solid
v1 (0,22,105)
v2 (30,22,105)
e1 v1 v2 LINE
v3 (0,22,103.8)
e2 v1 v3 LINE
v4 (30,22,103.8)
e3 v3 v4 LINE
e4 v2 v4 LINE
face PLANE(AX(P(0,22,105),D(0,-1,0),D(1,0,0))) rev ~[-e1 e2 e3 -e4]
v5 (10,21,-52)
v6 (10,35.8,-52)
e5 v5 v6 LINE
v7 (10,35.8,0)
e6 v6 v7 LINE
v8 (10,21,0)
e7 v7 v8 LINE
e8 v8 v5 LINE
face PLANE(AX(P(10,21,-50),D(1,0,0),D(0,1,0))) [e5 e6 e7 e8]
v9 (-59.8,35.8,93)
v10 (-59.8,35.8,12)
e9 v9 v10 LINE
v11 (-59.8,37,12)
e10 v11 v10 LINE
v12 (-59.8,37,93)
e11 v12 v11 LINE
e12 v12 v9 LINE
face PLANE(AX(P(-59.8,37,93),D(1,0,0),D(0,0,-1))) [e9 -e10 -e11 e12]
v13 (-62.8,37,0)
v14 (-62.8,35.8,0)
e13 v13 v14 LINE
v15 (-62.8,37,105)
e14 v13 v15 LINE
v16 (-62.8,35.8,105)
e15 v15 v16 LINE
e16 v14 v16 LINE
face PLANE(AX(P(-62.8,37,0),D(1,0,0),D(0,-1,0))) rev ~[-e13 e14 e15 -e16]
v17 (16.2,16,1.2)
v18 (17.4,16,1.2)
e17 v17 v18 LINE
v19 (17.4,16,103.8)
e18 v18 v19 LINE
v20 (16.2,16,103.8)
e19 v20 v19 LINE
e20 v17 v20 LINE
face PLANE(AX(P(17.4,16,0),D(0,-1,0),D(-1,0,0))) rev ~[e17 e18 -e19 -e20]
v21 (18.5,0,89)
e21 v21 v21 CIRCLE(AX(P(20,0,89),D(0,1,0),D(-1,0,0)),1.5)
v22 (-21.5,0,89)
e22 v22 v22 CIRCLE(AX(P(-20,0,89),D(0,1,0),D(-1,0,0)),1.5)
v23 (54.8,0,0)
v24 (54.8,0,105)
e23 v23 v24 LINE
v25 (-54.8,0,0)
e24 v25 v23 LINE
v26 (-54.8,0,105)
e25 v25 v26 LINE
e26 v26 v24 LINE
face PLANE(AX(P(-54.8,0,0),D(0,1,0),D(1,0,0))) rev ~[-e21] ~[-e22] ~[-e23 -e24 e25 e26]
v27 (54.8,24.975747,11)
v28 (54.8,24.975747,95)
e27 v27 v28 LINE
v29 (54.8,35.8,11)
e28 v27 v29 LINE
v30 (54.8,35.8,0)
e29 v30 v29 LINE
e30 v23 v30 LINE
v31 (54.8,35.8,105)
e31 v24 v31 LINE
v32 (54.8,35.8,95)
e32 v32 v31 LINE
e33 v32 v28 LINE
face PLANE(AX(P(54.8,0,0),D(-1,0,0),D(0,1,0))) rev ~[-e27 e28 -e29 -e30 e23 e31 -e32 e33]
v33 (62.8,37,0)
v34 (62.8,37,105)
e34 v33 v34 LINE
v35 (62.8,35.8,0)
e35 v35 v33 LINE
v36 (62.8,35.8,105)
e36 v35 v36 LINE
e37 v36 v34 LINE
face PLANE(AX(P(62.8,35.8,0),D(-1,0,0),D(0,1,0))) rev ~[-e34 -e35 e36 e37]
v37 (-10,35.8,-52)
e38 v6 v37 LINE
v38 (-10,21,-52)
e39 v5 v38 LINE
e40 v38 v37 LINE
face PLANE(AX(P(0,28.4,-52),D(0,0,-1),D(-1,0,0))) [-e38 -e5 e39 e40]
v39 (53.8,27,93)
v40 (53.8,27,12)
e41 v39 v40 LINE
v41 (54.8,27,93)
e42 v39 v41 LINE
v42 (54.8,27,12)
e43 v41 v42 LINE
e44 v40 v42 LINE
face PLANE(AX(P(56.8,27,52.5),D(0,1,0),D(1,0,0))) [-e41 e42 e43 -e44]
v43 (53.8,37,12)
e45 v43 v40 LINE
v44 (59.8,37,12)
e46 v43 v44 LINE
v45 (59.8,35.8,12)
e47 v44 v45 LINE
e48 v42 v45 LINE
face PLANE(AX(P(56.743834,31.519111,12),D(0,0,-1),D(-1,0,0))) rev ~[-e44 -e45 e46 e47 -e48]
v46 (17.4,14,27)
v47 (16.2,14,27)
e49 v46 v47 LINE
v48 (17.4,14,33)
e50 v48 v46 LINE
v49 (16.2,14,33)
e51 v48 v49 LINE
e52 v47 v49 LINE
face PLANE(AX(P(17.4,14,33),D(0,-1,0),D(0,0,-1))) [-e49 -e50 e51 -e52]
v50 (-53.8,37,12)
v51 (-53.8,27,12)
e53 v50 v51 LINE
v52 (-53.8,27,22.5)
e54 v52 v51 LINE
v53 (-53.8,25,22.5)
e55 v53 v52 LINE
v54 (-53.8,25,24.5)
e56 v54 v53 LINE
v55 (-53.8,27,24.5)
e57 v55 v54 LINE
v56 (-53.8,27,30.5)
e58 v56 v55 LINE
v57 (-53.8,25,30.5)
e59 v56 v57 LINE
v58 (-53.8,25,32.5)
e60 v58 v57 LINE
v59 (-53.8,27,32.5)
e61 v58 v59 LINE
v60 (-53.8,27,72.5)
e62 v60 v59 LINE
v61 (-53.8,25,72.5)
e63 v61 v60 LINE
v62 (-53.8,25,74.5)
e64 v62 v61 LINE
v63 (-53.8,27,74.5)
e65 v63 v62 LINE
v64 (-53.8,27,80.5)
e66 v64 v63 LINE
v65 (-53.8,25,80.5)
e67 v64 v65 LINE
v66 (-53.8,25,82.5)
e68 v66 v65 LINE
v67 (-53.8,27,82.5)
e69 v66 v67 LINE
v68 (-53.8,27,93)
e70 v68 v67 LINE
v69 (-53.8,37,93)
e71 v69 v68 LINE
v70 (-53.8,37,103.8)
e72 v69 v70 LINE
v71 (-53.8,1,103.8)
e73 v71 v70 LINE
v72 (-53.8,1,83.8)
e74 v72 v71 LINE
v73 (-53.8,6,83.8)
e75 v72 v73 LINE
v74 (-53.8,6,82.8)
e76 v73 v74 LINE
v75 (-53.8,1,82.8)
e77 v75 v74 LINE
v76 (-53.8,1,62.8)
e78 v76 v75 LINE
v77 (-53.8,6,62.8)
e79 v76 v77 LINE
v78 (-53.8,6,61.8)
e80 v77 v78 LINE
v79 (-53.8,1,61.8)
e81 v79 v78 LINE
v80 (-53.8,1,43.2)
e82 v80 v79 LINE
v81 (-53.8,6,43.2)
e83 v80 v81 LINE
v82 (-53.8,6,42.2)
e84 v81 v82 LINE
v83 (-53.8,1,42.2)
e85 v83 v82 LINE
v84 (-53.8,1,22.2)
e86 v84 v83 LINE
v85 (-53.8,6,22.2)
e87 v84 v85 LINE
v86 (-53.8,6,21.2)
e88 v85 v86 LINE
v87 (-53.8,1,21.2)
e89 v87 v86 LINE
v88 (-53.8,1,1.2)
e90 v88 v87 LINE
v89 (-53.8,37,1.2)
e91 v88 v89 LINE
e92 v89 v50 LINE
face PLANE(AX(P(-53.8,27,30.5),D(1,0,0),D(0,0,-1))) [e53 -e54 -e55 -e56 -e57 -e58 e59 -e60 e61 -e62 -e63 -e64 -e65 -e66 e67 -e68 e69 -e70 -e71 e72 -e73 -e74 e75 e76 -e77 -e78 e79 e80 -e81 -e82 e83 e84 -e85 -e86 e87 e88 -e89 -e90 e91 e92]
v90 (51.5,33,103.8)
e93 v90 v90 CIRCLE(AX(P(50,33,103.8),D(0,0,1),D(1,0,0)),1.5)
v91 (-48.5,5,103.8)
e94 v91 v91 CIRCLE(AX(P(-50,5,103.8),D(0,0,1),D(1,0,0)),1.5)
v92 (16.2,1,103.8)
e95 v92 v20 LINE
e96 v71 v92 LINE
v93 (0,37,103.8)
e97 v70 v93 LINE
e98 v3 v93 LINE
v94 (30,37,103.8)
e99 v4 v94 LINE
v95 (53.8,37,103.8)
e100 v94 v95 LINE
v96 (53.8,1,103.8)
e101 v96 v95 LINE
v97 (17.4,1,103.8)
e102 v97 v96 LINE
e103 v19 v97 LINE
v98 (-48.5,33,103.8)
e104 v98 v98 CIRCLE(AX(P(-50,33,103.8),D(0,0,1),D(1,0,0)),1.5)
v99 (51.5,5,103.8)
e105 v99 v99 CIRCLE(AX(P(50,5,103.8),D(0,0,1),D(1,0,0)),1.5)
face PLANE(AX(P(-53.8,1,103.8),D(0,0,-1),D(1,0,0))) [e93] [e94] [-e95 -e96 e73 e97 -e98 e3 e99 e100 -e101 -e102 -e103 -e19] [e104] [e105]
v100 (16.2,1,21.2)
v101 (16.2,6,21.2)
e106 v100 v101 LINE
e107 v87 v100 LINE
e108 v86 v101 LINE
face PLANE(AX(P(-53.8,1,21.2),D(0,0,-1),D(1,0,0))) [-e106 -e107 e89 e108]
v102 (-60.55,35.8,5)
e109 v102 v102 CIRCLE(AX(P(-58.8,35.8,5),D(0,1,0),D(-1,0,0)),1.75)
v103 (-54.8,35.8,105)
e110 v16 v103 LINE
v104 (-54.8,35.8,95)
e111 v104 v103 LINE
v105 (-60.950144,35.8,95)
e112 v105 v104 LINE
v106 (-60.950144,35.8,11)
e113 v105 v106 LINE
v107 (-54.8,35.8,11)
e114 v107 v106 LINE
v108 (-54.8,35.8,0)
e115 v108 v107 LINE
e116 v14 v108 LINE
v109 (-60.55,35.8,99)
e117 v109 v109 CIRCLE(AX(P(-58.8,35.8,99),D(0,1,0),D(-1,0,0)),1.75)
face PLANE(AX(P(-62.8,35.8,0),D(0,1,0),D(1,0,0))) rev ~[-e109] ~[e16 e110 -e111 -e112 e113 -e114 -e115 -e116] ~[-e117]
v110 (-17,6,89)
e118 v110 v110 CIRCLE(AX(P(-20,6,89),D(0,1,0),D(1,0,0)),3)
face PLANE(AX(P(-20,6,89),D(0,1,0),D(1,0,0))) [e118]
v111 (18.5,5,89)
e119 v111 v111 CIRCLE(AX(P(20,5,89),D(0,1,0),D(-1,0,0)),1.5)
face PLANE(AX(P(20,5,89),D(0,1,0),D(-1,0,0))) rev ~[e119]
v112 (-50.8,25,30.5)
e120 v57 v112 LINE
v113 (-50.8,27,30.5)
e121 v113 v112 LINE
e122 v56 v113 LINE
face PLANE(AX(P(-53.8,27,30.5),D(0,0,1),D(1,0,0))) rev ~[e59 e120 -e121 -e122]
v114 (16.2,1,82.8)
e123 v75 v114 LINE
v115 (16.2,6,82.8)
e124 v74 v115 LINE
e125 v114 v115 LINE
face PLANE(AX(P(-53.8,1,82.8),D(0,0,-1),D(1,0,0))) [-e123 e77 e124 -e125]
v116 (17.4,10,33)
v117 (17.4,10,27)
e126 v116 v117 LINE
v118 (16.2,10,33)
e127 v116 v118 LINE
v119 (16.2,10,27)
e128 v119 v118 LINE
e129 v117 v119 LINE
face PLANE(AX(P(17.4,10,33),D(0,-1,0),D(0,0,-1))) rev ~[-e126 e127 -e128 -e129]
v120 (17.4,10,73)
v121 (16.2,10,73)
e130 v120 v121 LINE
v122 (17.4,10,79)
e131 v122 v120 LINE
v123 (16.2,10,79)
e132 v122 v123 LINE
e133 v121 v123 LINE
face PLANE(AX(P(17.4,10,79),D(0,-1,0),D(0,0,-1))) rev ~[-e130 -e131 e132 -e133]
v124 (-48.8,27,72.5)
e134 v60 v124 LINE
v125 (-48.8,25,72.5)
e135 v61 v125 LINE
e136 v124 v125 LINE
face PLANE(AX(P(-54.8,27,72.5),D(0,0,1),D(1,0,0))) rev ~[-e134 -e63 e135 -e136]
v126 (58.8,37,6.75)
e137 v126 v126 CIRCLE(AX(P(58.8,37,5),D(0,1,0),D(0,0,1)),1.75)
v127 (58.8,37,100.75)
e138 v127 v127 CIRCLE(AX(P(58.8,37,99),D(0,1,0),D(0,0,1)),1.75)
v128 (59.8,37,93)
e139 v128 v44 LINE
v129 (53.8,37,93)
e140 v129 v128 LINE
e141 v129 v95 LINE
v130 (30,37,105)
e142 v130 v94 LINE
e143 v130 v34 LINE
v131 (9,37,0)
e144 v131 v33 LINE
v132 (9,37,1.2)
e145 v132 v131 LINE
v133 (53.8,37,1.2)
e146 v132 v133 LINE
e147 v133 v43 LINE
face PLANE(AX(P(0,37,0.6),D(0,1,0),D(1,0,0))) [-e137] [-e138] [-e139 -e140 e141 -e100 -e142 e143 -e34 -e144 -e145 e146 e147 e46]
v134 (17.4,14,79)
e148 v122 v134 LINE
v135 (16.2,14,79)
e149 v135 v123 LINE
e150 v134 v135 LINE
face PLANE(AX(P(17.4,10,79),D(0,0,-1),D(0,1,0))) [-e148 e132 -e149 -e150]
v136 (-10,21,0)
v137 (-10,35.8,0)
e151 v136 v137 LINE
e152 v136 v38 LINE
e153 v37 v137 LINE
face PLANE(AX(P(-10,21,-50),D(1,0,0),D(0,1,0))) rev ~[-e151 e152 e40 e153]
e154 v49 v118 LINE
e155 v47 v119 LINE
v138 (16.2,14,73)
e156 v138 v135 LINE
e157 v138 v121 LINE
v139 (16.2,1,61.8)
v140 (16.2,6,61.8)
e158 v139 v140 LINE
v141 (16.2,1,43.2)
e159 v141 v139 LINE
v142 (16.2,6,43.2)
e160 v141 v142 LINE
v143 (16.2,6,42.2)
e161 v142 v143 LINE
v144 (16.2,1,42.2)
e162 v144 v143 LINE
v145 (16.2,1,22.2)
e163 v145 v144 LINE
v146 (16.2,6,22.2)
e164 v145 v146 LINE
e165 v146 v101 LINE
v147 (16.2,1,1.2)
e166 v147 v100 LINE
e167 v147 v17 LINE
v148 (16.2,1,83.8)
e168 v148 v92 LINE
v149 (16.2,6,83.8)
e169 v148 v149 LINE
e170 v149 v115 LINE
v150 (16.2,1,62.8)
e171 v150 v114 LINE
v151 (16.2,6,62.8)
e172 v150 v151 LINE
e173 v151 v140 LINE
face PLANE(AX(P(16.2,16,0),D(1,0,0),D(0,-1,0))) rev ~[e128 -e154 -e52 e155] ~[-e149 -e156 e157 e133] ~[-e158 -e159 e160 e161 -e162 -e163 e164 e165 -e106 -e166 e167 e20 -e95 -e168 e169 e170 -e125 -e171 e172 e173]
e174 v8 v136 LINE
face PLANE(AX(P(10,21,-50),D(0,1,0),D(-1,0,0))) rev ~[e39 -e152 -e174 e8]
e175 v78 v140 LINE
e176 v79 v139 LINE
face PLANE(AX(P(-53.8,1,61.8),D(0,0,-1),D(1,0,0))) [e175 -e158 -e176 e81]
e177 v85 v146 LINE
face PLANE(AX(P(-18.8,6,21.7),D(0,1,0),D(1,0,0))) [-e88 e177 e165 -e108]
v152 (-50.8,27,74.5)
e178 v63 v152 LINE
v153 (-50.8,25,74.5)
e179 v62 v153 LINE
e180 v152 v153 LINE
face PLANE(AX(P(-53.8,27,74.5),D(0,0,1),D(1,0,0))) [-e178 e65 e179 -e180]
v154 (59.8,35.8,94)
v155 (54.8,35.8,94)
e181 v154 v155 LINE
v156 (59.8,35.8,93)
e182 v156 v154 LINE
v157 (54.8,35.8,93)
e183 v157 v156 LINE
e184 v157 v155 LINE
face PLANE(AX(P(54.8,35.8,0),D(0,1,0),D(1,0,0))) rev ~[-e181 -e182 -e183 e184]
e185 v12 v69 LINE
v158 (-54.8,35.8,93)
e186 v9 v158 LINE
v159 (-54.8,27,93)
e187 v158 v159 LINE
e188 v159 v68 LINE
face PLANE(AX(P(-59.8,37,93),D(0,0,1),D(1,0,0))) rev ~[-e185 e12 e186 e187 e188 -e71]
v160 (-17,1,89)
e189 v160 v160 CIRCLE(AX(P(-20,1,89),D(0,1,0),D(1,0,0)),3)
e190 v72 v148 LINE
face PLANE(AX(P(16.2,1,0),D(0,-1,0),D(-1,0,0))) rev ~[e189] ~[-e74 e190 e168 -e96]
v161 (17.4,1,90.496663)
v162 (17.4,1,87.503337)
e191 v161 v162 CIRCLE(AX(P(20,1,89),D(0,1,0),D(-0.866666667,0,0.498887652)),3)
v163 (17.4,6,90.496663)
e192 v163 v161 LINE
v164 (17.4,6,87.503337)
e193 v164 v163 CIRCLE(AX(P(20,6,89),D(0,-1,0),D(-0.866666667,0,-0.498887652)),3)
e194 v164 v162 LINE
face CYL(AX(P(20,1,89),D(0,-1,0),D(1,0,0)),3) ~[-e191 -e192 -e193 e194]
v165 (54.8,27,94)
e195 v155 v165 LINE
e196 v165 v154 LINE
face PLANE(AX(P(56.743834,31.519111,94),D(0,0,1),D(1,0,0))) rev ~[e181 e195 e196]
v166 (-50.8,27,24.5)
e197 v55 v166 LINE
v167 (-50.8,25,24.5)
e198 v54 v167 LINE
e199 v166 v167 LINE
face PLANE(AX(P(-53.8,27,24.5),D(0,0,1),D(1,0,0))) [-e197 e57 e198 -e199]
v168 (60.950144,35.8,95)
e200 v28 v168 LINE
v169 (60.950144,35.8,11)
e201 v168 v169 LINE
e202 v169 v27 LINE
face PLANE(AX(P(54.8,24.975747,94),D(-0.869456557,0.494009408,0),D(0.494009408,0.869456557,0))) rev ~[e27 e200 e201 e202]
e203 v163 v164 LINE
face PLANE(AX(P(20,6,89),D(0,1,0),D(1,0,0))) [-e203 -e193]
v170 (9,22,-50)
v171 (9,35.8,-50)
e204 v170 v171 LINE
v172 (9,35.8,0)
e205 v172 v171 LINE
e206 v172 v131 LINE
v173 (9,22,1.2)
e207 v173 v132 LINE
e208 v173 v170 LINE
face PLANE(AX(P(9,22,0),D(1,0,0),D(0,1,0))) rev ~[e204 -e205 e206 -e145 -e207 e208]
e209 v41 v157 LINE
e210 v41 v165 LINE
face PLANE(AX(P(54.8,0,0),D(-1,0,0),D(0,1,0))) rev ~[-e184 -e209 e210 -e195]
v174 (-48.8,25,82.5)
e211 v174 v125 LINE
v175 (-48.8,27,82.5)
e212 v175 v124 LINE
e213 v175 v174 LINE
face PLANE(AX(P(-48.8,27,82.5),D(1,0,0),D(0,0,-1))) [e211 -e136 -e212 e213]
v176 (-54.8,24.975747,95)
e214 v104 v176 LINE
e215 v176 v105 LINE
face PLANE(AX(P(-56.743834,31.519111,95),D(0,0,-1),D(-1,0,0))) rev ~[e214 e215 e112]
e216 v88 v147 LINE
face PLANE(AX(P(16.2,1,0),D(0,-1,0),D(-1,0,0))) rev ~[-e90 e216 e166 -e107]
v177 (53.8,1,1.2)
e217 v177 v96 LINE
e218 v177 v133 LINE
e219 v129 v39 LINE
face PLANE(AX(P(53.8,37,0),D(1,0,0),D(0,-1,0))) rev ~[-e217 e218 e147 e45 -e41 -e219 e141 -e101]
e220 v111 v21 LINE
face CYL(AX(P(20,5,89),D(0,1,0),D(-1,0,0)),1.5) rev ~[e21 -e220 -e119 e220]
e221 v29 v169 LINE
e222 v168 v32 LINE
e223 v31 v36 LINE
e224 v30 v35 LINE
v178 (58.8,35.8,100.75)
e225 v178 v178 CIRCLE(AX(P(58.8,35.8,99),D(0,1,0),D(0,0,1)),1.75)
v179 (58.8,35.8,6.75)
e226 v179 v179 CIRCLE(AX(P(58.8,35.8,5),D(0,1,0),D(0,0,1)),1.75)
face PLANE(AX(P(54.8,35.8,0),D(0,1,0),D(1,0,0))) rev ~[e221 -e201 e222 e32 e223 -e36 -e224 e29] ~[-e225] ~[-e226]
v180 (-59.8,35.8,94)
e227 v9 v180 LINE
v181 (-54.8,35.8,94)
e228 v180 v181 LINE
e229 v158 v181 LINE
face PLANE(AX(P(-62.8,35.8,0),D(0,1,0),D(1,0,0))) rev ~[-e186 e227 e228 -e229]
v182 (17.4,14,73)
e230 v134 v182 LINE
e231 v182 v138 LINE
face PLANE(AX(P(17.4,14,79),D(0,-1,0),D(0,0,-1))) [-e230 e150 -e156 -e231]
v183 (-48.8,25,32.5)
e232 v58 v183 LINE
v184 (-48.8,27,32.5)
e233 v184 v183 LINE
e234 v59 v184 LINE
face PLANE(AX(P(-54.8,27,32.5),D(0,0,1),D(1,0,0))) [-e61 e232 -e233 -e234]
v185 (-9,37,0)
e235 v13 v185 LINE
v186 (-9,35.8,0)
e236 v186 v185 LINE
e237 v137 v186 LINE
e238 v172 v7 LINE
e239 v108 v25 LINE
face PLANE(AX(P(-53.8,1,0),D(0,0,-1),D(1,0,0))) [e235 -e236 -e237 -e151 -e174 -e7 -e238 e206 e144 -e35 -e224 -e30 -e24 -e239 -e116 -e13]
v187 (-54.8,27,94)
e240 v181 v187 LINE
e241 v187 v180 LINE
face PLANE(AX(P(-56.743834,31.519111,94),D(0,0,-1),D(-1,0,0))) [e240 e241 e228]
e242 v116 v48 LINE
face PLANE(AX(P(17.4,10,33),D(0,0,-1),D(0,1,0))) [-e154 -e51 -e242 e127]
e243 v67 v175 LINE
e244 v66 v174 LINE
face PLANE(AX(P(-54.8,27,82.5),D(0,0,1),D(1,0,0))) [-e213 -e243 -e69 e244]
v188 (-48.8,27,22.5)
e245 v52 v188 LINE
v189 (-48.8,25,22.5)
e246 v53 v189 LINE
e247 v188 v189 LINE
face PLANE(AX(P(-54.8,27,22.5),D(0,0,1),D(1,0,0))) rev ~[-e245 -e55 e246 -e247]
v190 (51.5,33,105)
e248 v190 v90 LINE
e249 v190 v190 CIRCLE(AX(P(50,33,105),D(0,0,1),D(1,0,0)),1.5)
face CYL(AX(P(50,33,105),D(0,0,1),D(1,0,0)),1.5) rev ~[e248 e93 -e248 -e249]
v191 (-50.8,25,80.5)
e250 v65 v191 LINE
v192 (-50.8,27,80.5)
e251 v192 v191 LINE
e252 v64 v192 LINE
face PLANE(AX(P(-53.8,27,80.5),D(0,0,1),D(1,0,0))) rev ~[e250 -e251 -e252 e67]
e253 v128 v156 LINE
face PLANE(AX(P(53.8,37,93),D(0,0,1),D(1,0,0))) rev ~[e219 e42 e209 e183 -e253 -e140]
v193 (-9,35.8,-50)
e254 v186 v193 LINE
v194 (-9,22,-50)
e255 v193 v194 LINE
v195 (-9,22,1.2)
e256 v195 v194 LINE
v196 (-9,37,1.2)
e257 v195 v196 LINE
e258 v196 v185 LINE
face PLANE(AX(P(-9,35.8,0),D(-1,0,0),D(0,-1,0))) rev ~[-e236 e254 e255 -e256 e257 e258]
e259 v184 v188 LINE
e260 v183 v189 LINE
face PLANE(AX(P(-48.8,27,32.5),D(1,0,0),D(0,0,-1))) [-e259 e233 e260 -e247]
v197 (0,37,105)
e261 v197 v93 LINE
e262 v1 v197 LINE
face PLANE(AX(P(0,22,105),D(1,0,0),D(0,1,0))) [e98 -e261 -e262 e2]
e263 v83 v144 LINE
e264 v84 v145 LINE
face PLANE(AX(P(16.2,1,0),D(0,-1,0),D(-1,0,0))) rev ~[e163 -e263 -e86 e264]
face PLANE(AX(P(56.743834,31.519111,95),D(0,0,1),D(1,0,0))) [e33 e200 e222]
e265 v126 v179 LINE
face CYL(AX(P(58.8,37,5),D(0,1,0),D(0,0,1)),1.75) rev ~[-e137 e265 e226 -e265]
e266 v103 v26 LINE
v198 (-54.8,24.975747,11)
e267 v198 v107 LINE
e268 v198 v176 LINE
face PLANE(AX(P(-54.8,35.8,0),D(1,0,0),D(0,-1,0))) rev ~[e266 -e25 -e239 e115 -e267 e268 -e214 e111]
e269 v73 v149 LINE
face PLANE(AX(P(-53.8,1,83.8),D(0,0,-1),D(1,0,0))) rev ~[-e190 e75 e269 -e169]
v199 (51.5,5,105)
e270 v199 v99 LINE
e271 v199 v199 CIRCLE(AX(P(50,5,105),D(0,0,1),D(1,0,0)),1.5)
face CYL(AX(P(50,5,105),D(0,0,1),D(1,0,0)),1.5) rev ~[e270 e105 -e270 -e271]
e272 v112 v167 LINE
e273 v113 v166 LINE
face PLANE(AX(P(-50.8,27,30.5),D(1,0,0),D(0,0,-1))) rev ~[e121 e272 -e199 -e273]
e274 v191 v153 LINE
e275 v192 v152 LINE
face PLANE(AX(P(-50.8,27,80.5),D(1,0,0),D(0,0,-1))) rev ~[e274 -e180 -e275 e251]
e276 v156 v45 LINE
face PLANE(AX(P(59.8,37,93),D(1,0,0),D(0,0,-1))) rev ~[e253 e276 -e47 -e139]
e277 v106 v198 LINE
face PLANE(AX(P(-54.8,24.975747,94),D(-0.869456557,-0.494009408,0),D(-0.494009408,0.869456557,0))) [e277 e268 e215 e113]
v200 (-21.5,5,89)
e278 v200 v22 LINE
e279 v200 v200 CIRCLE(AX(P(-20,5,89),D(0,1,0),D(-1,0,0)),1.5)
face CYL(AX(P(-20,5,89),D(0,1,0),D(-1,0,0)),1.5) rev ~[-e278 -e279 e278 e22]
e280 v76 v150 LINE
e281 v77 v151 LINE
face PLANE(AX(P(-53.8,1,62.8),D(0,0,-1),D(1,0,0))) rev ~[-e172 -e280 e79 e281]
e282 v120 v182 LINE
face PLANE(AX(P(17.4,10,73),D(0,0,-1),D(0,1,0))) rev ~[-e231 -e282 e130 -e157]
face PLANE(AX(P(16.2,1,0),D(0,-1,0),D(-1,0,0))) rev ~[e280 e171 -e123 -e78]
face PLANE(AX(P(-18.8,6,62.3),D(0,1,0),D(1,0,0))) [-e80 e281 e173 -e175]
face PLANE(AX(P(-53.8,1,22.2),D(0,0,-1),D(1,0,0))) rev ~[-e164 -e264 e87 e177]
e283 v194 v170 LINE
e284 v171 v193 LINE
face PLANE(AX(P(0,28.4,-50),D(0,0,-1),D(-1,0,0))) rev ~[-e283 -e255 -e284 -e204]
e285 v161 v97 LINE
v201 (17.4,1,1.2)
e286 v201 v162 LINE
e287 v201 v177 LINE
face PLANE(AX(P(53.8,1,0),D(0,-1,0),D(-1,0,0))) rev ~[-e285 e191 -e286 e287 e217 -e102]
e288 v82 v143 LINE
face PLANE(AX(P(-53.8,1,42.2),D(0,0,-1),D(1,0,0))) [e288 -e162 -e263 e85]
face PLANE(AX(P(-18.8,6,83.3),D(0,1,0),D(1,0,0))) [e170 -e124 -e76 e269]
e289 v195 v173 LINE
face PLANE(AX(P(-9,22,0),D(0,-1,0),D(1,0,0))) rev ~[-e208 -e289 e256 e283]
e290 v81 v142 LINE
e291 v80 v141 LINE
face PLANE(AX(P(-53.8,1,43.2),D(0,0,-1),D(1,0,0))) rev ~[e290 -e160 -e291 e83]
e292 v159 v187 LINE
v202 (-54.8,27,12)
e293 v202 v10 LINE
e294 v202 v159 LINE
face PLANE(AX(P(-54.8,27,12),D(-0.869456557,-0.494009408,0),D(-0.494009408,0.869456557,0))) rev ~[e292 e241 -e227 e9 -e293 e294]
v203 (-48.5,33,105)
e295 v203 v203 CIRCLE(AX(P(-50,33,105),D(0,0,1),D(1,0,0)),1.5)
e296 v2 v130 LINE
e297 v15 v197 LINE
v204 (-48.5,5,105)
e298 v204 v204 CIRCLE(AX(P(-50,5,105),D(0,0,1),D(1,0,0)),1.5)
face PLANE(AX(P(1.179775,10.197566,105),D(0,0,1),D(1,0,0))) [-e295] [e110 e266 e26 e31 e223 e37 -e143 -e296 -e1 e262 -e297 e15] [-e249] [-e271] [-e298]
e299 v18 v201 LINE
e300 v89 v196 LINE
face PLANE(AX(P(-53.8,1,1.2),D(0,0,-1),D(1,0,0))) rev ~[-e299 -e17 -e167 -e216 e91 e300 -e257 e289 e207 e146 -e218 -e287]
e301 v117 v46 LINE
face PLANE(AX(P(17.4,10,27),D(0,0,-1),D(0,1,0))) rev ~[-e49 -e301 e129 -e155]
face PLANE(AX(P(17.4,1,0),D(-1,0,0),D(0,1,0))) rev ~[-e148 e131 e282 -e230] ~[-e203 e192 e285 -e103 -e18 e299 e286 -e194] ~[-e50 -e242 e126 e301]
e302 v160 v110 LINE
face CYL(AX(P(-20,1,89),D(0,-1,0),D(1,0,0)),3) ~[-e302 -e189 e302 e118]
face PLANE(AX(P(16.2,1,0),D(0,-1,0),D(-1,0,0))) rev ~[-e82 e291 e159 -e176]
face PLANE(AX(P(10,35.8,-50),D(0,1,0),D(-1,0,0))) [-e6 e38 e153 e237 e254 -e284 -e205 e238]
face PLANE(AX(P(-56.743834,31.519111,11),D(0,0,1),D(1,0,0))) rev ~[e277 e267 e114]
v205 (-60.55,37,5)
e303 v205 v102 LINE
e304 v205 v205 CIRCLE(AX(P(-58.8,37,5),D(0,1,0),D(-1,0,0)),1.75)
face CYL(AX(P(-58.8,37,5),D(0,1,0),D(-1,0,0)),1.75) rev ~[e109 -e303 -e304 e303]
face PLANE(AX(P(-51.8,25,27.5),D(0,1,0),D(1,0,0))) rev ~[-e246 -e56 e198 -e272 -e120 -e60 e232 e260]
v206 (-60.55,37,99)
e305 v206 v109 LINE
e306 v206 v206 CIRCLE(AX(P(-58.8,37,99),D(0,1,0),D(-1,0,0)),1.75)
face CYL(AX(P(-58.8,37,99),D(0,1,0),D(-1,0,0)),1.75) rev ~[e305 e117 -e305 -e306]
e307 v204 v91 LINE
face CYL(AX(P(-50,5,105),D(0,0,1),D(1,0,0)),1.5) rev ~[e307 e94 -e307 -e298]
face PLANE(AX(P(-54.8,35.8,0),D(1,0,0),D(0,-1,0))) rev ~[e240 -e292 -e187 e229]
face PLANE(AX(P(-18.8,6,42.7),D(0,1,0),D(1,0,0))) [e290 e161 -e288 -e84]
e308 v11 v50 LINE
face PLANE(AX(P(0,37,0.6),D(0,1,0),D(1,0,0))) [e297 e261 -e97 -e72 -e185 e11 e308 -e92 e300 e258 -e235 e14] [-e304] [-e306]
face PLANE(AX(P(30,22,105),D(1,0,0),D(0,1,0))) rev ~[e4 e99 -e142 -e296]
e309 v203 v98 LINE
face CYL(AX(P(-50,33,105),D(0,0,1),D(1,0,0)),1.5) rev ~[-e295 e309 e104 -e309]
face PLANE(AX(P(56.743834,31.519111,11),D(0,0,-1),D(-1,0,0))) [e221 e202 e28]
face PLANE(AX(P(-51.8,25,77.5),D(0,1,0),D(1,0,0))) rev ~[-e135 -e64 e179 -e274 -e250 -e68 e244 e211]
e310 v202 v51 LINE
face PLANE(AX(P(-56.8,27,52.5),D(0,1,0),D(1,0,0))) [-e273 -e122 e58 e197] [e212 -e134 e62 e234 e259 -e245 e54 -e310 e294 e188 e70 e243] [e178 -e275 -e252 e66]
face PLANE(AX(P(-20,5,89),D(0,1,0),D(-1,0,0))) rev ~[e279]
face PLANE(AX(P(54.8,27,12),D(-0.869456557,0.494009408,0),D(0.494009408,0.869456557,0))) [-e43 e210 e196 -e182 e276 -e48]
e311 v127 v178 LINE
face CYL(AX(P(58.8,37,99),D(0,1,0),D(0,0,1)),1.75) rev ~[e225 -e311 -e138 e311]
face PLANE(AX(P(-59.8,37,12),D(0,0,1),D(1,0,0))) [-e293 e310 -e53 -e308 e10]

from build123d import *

# Parameters (mm, degrees)
EXTRUDE_1_DEPTH     = 105
SKETCH_3_W          = 107.6
SKETCH_3_H          = 1.2
EXTRUDE_3_DEPTH     = 36
SKETCH_4_R          = 3
SKETCH_4_W          = 70
SKETCH_4_H          = 1
EXTRUDE_4_DEPTH     = 5
CUT_EXTRUDE_1_REACH = 129.213
CUT_EXTRUDE_START   = -1
SKETCH_5_R          = 1.5
SKETCH_6_R          = 1.75
SKETCH_6_W          = 6
SKETCH_6_H          = 81
CUT_EXTRUDE_2_DEPTH = 10
EXTRUDE_8_DEPTH     = 82
EXTRUDE_9_DEPTH     = 1
EXTRUDE_10_DEPTH    = 1
CUT_EXTRUDE_3_REACH = 128.836
SKETCH_11_W         = 18
SKETCH_11_H         = 15
CUT_EXTRUDE_4_REACH = 129.82
SKETCH_12_R         = 1.5
SKETCH_12_W         = 30
SKETCH_12_H         = 15
EXTRUDE_11_DEPTH    = 50
SKETCH_14_W         = 20
SKETCH_14_H         = 14.8
EXTRUDE_12_DEPTH    = 2
SKETCH_15_W         = 6
SKETCH_15_H         = 10
SKETCH_15_W_2       = 3
SKETCH_15_H_2       = 6
EXTRUDE_13_DEPTH    = 2
CUT_EXTRUDE_5_REACH = 139.208
SKETCH_16_W         = 6
SKETCH_16_H         = 4


with BuildPart() as part:
    # 草图1 → 凸台-拉伸1 (new body)
    with BuildSketch(Plane.XY):
        Polygon((-54.8, 0), (54.8, 0), (54.8, 35.8), (62.8, 35.8), (62.8, 37), (53.8, 37), (53.8, 1), (17.4, 1), (17.4, 16), (16.2, 16), (16.2, 1), (-53.8, 1), (-53.8, 37), (-62.8, 37), (-62.8, 35.8), (-54.8, 35.8), align=None)
    extrude(amount=EXTRUDE_1_DEPTH)

    # 草图3 → 凸台-拉伸3 (add)
    with BuildSketch(Plane(origin=(0, 1, 0), x_dir=(1, 0, 0), z_dir=(0, 1, 0))):
        with Locations((0, -0.6)):
            Rectangle(SKETCH_3_W, SKETCH_3_H)
        with Locations((0, -104.4)):
            Rectangle(SKETCH_3_W, SKETCH_3_H)
    extrude(amount=EXTRUDE_3_DEPTH)

    # 草图4 → 凸台-拉伸4 (add)
    with BuildSketch(Plane(origin=(0, 1, 0), x_dir=(1, 0, 0), z_dir=(0, 1, 0))):
        with Locations((20, -89)):
            Circle(SKETCH_4_R)
        with Locations((-20, -89)):
            Circle(SKETCH_4_R)
        with Locations((-18.8, -21.7)):
            Rectangle(SKETCH_4_W, SKETCH_4_H)
        with Locations((-18.8, -42.7)):
            Rectangle(SKETCH_4_W, SKETCH_4_H)
        with Locations((-18.8, -62.3)):
            Rectangle(SKETCH_4_W, SKETCH_4_H)
        with Locations((-18.8, -83.3)):
            Rectangle(SKETCH_4_W, SKETCH_4_H)
    extrude(amount=EXTRUDE_4_DEPTH)

    # 草图5 → 切除-拉伸1 (cut, up to next)
    with BuildSketch(Plane(origin=(0, 6, 0), x_dir=(1, 0, 0), z_dir=(0, 1, 0)).offset(CUT_EXTRUDE_START), mode=Mode.PRIVATE) as cut_extrude_1_sk1:
        with Locations(Location((20, -89, 0), (0, 0, 180))):
            Circle(SKETCH_5_R)
    cut_extrude_1_tool1 = extrude(cut_extrude_1_sk1.sketch, amount=-CUT_EXTRUDE_1_REACH, mode=Mode.PRIVATE) & part.part
    # 草图5 → 切除-拉伸1 (cut, up to next)
    with BuildSketch(Plane(origin=(0, 6, 0), x_dir=(1, 0, 0), z_dir=(0, 1, 0)).offset(CUT_EXTRUDE_START), mode=Mode.PRIVATE) as cut_extrude_1_sk2:
        with Locations(Location((-20, -89, 0), (0, 0, 180))):
            Circle(SKETCH_5_R)
    cut_extrude_1_tool2 = extrude(cut_extrude_1_sk2.sketch, amount=-CUT_EXTRUDE_1_REACH, mode=Mode.PRIVATE) & part.part
    add(cut_extrude_1_tool1.solids().sort_by_distance((20, 5, 89))[0], mode=Mode.SUBTRACT)
    add(cut_extrude_1_tool2.solids().sort_by_distance((-20, 5, 89))[0], mode=Mode.SUBTRACT)

    # 草图6 → 切除-拉伸2 (cut)
    with BuildSketch(Plane(origin=(0, 37, 0), x_dir=(1, 0, 0), z_dir=(0, 1, 0))):
        with Locations(Location((58.8, -5, 0), (0, 0, 270))):
            Circle(SKETCH_6_R)
        with Locations(Location((58.8, -99, 0), (0, 0, 270))):
            Circle(SKETCH_6_R)
        with Locations(Location((-58.8, -99, 0), (0, 0, 180))):
            Circle(SKETCH_6_R)
        with Locations(Location((-58.8, -5, 0), (0, 0, 180))):
            Circle(SKETCH_6_R)
        with Locations((-56.8, -52.5)):
            Rectangle(SKETCH_6_W, SKETCH_6_H)
        with Locations((56.8, -52.5)):
            Rectangle(SKETCH_6_W, SKETCH_6_H)
    extrude(amount=-CUT_EXTRUDE_2_DEPTH, mode=Mode.SUBTRACT)

    # 草图7 → 凸台-拉伸8 (add)
    with BuildSketch(Plane.XY.offset(12)):
        Polygon((60.950143721, 35.8), (54.8, 24.975747051), (54.8, 27), (59.8, 35.8), align=None)
        Polygon((-54.8, 24.975747051), (-54.8, 27), (-59.8, 35.8), (-60.950143721, 35.8), align=None)
    extrude(amount=EXTRUDE_8_DEPTH)

    # 草图8 → 凸台-拉伸9 (add)
    with BuildSketch(Plane(origin=(0, 0, 12), x_dir=(-1, 0, 0), z_dir=(0, 0, -1))):
        Polygon((-54.8, 35.8), (-60.950143721, 35.8), (-54.8, 24.975747051), align=None)
        Polygon((54.8, 24.975747051), (54.8, 35.8), (60.950143721, 35.8), align=None)
    extrude(amount=EXTRUDE_9_DEPTH)

    # 草图10 → 凸台-拉伸10 (add)
    with BuildSketch(Plane.XY.offset(94)):
        Polygon((-60.950143721, 35.8), (-54.8, 35.8), (-54.8, 24.975747051), align=None)
        Polygon((54.8, 24.975747051), (60.950143721, 35.8), (54.8, 35.8), align=None)
    extrude(amount=EXTRUDE_10_DEPTH)

    # 草图11 → 切除-拉伸3 (cut, up to next)
    with BuildSketch(Plane.XY.offset(1.2), mode=Mode.PRIVATE) as cut_extrude_3_sk1:
        with Locations((0, 29.5)):
            Rectangle(SKETCH_11_W, SKETCH_11_H)
    cut_extrude_3_tool1 = extrude(cut_extrude_3_sk1.sketch, amount=-CUT_EXTRUDE_3_REACH, mode=Mode.PRIVATE) & part.part
    add(cut_extrude_3_tool1.solids().sort_by_distance((0, 29.5, 1.2))[0], mode=Mode.SUBTRACT)

    # 草图12 → 切除-拉伸4 (cut, up to next)
    with BuildSketch(Plane.XY.offset(105), mode=Mode.PRIVATE) as cut_extrude_4_sk1:
        with Locations((50, 5)):
            Circle(SKETCH_12_R)
    cut_extrude_4_tool1 = extrude(cut_extrude_4_sk1.sketch, amount=-CUT_EXTRUDE_4_REACH, mode=Mode.PRIVATE) & part.part
    # 草图12 → 切除-拉伸4 (cut, up to next)
    with BuildSketch(Plane.XY.offset(105), mode=Mode.PRIVATE) as cut_extrude_4_sk2:
        with Locations((50, 33)):
            Circle(SKETCH_12_R)
    cut_extrude_4_tool2 = extrude(cut_extrude_4_sk2.sketch, amount=-CUT_EXTRUDE_4_REACH, mode=Mode.PRIVATE) & part.part
    # 草图12 → 切除-拉伸4 (cut, up to next)
    with BuildSketch(Plane.XY.offset(105), mode=Mode.PRIVATE) as cut_extrude_4_sk3:
        with Locations((-50, 33)):
            Circle(SKETCH_12_R)
    cut_extrude_4_tool3 = extrude(cut_extrude_4_sk3.sketch, amount=-CUT_EXTRUDE_4_REACH, mode=Mode.PRIVATE) & part.part
    # 草图12 → 切除-拉伸4 (cut, up to next)
    with BuildSketch(Plane.XY.offset(105), mode=Mode.PRIVATE) as cut_extrude_4_sk4:
        with Locations((-50, 5)):
            Circle(SKETCH_12_R)
    cut_extrude_4_tool4 = extrude(cut_extrude_4_sk4.sketch, amount=-CUT_EXTRUDE_4_REACH, mode=Mode.PRIVATE) & part.part
    # 草图12 → 切除-拉伸4 (cut, up to next)
    with BuildSketch(Plane.XY.offset(105), mode=Mode.PRIVATE) as cut_extrude_4_sk5:
        with Locations((15, 29.5)):
            Rectangle(SKETCH_12_W, SKETCH_12_H)
    cut_extrude_4_tool5 = extrude(cut_extrude_4_sk5.sketch, amount=-CUT_EXTRUDE_4_REACH, mode=Mode.PRIVATE) & part.part
    add(cut_extrude_4_tool1.solids().sort_by_distance((50, 5, 105))[0], mode=Mode.SUBTRACT)
    add(cut_extrude_4_tool2.solids().sort_by_distance((50, 33, 105))[0], mode=Mode.SUBTRACT)
    add(cut_extrude_4_tool3.solids().sort_by_distance((-50, 33, 105))[0], mode=Mode.SUBTRACT)
    add(cut_extrude_4_tool4.solids().sort_by_distance((-50, 5, 105))[0], mode=Mode.SUBTRACT)
    add(cut_extrude_4_tool5.solids().sort_by_distance((15, 29.5, 105))[0], mode=Mode.SUBTRACT)

    # 草图13 → 凸台-拉伸11 (add)
    with BuildSketch(Plane(origin=(0, 0, 0), x_dir=(-1, 0, 0), z_dir=(0, 0, -1))):
        Polygon((9, 35.8), (9, 22), (-9, 22), (-9, 35.8), (-10, 35.8), (-10, 21), (10, 21), (10, 35.8), align=None)
    extrude(amount=EXTRUDE_11_DEPTH)

    # 草图14 → 凸台-拉伸12 (add)
    with BuildSketch(Plane(origin=(0, 0, -50), x_dir=(-1, 0, 0), z_dir=(0, 0, -1))):
        with Locations((0, 28.4)):
            Rectangle(SKETCH_14_W, SKETCH_14_H)
    extrude(amount=EXTRUDE_12_DEPTH)

    # 草图15 → 凸台-拉伸13 (add)
    # profile 1 of 2: a face of its own
    with BuildSketch(Plane(origin=(0, 27, 0), x_dir=(1, 0, 0), z_dir=(0, 1, 0))):
        with Locations((-51.8, -27.5)):
            Rectangle(SKETCH_15_W, SKETCH_15_H)
        with Locations((-52.3, -27.5)):
            Rectangle(SKETCH_15_W_2, SKETCH_15_H_2, mode=Mode.SUBTRACT)
    # profile 2 of 2: a face of its own
    with BuildSketch(Plane(origin=(0, 27, 0), x_dir=(1, 0, 0), z_dir=(0, 1, 0))):
        with Locations((-51.8, -77.5)):
            Rectangle(SKETCH_15_W, SKETCH_15_H)
        with Locations((-52.3, -77.5)):
            Rectangle(SKETCH_15_W_2, SKETCH_15_H_2, mode=Mode.SUBTRACT)
    extrude(amount=-EXTRUDE_13_DEPTH)

    # 草图16 → 切除-拉伸5 (cut, up to next)
    with BuildSketch(Plane(origin=(17.4, 0, 0), x_dir=(0, 0, -1), z_dir=(1, 0, 0)), mode=Mode.PRIVATE) as cut_extrude_5_sk1:
        with Locations((-76, 12)):
            Rectangle(SKETCH_16_W, SKETCH_16_H)
    cut_extrude_5_tool1 = extrude(cut_extrude_5_sk1.sketch, amount=-CUT_EXTRUDE_5_REACH, mode=Mode.PRIVATE) & part.part
    # 草图16 → 切除-拉伸5 (cut, up to next)
    with BuildSketch(Plane(origin=(17.4, 0, 0), x_dir=(0, 0, -1), z_dir=(1, 0, 0)), mode=Mode.PRIVATE) as cut_extrude_5_sk2:
        with Locations((-30, 12)):
            Rectangle(SKETCH_16_W, SKETCH_16_H)
    cut_extrude_5_tool2 = extrude(cut_extrude_5_sk2.sketch, amount=-CUT_EXTRUDE_5_REACH, mode=Mode.PRIVATE) & part.part
    add(cut_extrude_5_tool1.solids().sort_by_distance((17.4, 12, 76))[0], mode=Mode.SUBTRACT)
    add(cut_extrude_5_tool2.solids().sort_by_distance((17.4, 12, 30))[0], mode=Mode.SUBTRACT)


solid = part.part
